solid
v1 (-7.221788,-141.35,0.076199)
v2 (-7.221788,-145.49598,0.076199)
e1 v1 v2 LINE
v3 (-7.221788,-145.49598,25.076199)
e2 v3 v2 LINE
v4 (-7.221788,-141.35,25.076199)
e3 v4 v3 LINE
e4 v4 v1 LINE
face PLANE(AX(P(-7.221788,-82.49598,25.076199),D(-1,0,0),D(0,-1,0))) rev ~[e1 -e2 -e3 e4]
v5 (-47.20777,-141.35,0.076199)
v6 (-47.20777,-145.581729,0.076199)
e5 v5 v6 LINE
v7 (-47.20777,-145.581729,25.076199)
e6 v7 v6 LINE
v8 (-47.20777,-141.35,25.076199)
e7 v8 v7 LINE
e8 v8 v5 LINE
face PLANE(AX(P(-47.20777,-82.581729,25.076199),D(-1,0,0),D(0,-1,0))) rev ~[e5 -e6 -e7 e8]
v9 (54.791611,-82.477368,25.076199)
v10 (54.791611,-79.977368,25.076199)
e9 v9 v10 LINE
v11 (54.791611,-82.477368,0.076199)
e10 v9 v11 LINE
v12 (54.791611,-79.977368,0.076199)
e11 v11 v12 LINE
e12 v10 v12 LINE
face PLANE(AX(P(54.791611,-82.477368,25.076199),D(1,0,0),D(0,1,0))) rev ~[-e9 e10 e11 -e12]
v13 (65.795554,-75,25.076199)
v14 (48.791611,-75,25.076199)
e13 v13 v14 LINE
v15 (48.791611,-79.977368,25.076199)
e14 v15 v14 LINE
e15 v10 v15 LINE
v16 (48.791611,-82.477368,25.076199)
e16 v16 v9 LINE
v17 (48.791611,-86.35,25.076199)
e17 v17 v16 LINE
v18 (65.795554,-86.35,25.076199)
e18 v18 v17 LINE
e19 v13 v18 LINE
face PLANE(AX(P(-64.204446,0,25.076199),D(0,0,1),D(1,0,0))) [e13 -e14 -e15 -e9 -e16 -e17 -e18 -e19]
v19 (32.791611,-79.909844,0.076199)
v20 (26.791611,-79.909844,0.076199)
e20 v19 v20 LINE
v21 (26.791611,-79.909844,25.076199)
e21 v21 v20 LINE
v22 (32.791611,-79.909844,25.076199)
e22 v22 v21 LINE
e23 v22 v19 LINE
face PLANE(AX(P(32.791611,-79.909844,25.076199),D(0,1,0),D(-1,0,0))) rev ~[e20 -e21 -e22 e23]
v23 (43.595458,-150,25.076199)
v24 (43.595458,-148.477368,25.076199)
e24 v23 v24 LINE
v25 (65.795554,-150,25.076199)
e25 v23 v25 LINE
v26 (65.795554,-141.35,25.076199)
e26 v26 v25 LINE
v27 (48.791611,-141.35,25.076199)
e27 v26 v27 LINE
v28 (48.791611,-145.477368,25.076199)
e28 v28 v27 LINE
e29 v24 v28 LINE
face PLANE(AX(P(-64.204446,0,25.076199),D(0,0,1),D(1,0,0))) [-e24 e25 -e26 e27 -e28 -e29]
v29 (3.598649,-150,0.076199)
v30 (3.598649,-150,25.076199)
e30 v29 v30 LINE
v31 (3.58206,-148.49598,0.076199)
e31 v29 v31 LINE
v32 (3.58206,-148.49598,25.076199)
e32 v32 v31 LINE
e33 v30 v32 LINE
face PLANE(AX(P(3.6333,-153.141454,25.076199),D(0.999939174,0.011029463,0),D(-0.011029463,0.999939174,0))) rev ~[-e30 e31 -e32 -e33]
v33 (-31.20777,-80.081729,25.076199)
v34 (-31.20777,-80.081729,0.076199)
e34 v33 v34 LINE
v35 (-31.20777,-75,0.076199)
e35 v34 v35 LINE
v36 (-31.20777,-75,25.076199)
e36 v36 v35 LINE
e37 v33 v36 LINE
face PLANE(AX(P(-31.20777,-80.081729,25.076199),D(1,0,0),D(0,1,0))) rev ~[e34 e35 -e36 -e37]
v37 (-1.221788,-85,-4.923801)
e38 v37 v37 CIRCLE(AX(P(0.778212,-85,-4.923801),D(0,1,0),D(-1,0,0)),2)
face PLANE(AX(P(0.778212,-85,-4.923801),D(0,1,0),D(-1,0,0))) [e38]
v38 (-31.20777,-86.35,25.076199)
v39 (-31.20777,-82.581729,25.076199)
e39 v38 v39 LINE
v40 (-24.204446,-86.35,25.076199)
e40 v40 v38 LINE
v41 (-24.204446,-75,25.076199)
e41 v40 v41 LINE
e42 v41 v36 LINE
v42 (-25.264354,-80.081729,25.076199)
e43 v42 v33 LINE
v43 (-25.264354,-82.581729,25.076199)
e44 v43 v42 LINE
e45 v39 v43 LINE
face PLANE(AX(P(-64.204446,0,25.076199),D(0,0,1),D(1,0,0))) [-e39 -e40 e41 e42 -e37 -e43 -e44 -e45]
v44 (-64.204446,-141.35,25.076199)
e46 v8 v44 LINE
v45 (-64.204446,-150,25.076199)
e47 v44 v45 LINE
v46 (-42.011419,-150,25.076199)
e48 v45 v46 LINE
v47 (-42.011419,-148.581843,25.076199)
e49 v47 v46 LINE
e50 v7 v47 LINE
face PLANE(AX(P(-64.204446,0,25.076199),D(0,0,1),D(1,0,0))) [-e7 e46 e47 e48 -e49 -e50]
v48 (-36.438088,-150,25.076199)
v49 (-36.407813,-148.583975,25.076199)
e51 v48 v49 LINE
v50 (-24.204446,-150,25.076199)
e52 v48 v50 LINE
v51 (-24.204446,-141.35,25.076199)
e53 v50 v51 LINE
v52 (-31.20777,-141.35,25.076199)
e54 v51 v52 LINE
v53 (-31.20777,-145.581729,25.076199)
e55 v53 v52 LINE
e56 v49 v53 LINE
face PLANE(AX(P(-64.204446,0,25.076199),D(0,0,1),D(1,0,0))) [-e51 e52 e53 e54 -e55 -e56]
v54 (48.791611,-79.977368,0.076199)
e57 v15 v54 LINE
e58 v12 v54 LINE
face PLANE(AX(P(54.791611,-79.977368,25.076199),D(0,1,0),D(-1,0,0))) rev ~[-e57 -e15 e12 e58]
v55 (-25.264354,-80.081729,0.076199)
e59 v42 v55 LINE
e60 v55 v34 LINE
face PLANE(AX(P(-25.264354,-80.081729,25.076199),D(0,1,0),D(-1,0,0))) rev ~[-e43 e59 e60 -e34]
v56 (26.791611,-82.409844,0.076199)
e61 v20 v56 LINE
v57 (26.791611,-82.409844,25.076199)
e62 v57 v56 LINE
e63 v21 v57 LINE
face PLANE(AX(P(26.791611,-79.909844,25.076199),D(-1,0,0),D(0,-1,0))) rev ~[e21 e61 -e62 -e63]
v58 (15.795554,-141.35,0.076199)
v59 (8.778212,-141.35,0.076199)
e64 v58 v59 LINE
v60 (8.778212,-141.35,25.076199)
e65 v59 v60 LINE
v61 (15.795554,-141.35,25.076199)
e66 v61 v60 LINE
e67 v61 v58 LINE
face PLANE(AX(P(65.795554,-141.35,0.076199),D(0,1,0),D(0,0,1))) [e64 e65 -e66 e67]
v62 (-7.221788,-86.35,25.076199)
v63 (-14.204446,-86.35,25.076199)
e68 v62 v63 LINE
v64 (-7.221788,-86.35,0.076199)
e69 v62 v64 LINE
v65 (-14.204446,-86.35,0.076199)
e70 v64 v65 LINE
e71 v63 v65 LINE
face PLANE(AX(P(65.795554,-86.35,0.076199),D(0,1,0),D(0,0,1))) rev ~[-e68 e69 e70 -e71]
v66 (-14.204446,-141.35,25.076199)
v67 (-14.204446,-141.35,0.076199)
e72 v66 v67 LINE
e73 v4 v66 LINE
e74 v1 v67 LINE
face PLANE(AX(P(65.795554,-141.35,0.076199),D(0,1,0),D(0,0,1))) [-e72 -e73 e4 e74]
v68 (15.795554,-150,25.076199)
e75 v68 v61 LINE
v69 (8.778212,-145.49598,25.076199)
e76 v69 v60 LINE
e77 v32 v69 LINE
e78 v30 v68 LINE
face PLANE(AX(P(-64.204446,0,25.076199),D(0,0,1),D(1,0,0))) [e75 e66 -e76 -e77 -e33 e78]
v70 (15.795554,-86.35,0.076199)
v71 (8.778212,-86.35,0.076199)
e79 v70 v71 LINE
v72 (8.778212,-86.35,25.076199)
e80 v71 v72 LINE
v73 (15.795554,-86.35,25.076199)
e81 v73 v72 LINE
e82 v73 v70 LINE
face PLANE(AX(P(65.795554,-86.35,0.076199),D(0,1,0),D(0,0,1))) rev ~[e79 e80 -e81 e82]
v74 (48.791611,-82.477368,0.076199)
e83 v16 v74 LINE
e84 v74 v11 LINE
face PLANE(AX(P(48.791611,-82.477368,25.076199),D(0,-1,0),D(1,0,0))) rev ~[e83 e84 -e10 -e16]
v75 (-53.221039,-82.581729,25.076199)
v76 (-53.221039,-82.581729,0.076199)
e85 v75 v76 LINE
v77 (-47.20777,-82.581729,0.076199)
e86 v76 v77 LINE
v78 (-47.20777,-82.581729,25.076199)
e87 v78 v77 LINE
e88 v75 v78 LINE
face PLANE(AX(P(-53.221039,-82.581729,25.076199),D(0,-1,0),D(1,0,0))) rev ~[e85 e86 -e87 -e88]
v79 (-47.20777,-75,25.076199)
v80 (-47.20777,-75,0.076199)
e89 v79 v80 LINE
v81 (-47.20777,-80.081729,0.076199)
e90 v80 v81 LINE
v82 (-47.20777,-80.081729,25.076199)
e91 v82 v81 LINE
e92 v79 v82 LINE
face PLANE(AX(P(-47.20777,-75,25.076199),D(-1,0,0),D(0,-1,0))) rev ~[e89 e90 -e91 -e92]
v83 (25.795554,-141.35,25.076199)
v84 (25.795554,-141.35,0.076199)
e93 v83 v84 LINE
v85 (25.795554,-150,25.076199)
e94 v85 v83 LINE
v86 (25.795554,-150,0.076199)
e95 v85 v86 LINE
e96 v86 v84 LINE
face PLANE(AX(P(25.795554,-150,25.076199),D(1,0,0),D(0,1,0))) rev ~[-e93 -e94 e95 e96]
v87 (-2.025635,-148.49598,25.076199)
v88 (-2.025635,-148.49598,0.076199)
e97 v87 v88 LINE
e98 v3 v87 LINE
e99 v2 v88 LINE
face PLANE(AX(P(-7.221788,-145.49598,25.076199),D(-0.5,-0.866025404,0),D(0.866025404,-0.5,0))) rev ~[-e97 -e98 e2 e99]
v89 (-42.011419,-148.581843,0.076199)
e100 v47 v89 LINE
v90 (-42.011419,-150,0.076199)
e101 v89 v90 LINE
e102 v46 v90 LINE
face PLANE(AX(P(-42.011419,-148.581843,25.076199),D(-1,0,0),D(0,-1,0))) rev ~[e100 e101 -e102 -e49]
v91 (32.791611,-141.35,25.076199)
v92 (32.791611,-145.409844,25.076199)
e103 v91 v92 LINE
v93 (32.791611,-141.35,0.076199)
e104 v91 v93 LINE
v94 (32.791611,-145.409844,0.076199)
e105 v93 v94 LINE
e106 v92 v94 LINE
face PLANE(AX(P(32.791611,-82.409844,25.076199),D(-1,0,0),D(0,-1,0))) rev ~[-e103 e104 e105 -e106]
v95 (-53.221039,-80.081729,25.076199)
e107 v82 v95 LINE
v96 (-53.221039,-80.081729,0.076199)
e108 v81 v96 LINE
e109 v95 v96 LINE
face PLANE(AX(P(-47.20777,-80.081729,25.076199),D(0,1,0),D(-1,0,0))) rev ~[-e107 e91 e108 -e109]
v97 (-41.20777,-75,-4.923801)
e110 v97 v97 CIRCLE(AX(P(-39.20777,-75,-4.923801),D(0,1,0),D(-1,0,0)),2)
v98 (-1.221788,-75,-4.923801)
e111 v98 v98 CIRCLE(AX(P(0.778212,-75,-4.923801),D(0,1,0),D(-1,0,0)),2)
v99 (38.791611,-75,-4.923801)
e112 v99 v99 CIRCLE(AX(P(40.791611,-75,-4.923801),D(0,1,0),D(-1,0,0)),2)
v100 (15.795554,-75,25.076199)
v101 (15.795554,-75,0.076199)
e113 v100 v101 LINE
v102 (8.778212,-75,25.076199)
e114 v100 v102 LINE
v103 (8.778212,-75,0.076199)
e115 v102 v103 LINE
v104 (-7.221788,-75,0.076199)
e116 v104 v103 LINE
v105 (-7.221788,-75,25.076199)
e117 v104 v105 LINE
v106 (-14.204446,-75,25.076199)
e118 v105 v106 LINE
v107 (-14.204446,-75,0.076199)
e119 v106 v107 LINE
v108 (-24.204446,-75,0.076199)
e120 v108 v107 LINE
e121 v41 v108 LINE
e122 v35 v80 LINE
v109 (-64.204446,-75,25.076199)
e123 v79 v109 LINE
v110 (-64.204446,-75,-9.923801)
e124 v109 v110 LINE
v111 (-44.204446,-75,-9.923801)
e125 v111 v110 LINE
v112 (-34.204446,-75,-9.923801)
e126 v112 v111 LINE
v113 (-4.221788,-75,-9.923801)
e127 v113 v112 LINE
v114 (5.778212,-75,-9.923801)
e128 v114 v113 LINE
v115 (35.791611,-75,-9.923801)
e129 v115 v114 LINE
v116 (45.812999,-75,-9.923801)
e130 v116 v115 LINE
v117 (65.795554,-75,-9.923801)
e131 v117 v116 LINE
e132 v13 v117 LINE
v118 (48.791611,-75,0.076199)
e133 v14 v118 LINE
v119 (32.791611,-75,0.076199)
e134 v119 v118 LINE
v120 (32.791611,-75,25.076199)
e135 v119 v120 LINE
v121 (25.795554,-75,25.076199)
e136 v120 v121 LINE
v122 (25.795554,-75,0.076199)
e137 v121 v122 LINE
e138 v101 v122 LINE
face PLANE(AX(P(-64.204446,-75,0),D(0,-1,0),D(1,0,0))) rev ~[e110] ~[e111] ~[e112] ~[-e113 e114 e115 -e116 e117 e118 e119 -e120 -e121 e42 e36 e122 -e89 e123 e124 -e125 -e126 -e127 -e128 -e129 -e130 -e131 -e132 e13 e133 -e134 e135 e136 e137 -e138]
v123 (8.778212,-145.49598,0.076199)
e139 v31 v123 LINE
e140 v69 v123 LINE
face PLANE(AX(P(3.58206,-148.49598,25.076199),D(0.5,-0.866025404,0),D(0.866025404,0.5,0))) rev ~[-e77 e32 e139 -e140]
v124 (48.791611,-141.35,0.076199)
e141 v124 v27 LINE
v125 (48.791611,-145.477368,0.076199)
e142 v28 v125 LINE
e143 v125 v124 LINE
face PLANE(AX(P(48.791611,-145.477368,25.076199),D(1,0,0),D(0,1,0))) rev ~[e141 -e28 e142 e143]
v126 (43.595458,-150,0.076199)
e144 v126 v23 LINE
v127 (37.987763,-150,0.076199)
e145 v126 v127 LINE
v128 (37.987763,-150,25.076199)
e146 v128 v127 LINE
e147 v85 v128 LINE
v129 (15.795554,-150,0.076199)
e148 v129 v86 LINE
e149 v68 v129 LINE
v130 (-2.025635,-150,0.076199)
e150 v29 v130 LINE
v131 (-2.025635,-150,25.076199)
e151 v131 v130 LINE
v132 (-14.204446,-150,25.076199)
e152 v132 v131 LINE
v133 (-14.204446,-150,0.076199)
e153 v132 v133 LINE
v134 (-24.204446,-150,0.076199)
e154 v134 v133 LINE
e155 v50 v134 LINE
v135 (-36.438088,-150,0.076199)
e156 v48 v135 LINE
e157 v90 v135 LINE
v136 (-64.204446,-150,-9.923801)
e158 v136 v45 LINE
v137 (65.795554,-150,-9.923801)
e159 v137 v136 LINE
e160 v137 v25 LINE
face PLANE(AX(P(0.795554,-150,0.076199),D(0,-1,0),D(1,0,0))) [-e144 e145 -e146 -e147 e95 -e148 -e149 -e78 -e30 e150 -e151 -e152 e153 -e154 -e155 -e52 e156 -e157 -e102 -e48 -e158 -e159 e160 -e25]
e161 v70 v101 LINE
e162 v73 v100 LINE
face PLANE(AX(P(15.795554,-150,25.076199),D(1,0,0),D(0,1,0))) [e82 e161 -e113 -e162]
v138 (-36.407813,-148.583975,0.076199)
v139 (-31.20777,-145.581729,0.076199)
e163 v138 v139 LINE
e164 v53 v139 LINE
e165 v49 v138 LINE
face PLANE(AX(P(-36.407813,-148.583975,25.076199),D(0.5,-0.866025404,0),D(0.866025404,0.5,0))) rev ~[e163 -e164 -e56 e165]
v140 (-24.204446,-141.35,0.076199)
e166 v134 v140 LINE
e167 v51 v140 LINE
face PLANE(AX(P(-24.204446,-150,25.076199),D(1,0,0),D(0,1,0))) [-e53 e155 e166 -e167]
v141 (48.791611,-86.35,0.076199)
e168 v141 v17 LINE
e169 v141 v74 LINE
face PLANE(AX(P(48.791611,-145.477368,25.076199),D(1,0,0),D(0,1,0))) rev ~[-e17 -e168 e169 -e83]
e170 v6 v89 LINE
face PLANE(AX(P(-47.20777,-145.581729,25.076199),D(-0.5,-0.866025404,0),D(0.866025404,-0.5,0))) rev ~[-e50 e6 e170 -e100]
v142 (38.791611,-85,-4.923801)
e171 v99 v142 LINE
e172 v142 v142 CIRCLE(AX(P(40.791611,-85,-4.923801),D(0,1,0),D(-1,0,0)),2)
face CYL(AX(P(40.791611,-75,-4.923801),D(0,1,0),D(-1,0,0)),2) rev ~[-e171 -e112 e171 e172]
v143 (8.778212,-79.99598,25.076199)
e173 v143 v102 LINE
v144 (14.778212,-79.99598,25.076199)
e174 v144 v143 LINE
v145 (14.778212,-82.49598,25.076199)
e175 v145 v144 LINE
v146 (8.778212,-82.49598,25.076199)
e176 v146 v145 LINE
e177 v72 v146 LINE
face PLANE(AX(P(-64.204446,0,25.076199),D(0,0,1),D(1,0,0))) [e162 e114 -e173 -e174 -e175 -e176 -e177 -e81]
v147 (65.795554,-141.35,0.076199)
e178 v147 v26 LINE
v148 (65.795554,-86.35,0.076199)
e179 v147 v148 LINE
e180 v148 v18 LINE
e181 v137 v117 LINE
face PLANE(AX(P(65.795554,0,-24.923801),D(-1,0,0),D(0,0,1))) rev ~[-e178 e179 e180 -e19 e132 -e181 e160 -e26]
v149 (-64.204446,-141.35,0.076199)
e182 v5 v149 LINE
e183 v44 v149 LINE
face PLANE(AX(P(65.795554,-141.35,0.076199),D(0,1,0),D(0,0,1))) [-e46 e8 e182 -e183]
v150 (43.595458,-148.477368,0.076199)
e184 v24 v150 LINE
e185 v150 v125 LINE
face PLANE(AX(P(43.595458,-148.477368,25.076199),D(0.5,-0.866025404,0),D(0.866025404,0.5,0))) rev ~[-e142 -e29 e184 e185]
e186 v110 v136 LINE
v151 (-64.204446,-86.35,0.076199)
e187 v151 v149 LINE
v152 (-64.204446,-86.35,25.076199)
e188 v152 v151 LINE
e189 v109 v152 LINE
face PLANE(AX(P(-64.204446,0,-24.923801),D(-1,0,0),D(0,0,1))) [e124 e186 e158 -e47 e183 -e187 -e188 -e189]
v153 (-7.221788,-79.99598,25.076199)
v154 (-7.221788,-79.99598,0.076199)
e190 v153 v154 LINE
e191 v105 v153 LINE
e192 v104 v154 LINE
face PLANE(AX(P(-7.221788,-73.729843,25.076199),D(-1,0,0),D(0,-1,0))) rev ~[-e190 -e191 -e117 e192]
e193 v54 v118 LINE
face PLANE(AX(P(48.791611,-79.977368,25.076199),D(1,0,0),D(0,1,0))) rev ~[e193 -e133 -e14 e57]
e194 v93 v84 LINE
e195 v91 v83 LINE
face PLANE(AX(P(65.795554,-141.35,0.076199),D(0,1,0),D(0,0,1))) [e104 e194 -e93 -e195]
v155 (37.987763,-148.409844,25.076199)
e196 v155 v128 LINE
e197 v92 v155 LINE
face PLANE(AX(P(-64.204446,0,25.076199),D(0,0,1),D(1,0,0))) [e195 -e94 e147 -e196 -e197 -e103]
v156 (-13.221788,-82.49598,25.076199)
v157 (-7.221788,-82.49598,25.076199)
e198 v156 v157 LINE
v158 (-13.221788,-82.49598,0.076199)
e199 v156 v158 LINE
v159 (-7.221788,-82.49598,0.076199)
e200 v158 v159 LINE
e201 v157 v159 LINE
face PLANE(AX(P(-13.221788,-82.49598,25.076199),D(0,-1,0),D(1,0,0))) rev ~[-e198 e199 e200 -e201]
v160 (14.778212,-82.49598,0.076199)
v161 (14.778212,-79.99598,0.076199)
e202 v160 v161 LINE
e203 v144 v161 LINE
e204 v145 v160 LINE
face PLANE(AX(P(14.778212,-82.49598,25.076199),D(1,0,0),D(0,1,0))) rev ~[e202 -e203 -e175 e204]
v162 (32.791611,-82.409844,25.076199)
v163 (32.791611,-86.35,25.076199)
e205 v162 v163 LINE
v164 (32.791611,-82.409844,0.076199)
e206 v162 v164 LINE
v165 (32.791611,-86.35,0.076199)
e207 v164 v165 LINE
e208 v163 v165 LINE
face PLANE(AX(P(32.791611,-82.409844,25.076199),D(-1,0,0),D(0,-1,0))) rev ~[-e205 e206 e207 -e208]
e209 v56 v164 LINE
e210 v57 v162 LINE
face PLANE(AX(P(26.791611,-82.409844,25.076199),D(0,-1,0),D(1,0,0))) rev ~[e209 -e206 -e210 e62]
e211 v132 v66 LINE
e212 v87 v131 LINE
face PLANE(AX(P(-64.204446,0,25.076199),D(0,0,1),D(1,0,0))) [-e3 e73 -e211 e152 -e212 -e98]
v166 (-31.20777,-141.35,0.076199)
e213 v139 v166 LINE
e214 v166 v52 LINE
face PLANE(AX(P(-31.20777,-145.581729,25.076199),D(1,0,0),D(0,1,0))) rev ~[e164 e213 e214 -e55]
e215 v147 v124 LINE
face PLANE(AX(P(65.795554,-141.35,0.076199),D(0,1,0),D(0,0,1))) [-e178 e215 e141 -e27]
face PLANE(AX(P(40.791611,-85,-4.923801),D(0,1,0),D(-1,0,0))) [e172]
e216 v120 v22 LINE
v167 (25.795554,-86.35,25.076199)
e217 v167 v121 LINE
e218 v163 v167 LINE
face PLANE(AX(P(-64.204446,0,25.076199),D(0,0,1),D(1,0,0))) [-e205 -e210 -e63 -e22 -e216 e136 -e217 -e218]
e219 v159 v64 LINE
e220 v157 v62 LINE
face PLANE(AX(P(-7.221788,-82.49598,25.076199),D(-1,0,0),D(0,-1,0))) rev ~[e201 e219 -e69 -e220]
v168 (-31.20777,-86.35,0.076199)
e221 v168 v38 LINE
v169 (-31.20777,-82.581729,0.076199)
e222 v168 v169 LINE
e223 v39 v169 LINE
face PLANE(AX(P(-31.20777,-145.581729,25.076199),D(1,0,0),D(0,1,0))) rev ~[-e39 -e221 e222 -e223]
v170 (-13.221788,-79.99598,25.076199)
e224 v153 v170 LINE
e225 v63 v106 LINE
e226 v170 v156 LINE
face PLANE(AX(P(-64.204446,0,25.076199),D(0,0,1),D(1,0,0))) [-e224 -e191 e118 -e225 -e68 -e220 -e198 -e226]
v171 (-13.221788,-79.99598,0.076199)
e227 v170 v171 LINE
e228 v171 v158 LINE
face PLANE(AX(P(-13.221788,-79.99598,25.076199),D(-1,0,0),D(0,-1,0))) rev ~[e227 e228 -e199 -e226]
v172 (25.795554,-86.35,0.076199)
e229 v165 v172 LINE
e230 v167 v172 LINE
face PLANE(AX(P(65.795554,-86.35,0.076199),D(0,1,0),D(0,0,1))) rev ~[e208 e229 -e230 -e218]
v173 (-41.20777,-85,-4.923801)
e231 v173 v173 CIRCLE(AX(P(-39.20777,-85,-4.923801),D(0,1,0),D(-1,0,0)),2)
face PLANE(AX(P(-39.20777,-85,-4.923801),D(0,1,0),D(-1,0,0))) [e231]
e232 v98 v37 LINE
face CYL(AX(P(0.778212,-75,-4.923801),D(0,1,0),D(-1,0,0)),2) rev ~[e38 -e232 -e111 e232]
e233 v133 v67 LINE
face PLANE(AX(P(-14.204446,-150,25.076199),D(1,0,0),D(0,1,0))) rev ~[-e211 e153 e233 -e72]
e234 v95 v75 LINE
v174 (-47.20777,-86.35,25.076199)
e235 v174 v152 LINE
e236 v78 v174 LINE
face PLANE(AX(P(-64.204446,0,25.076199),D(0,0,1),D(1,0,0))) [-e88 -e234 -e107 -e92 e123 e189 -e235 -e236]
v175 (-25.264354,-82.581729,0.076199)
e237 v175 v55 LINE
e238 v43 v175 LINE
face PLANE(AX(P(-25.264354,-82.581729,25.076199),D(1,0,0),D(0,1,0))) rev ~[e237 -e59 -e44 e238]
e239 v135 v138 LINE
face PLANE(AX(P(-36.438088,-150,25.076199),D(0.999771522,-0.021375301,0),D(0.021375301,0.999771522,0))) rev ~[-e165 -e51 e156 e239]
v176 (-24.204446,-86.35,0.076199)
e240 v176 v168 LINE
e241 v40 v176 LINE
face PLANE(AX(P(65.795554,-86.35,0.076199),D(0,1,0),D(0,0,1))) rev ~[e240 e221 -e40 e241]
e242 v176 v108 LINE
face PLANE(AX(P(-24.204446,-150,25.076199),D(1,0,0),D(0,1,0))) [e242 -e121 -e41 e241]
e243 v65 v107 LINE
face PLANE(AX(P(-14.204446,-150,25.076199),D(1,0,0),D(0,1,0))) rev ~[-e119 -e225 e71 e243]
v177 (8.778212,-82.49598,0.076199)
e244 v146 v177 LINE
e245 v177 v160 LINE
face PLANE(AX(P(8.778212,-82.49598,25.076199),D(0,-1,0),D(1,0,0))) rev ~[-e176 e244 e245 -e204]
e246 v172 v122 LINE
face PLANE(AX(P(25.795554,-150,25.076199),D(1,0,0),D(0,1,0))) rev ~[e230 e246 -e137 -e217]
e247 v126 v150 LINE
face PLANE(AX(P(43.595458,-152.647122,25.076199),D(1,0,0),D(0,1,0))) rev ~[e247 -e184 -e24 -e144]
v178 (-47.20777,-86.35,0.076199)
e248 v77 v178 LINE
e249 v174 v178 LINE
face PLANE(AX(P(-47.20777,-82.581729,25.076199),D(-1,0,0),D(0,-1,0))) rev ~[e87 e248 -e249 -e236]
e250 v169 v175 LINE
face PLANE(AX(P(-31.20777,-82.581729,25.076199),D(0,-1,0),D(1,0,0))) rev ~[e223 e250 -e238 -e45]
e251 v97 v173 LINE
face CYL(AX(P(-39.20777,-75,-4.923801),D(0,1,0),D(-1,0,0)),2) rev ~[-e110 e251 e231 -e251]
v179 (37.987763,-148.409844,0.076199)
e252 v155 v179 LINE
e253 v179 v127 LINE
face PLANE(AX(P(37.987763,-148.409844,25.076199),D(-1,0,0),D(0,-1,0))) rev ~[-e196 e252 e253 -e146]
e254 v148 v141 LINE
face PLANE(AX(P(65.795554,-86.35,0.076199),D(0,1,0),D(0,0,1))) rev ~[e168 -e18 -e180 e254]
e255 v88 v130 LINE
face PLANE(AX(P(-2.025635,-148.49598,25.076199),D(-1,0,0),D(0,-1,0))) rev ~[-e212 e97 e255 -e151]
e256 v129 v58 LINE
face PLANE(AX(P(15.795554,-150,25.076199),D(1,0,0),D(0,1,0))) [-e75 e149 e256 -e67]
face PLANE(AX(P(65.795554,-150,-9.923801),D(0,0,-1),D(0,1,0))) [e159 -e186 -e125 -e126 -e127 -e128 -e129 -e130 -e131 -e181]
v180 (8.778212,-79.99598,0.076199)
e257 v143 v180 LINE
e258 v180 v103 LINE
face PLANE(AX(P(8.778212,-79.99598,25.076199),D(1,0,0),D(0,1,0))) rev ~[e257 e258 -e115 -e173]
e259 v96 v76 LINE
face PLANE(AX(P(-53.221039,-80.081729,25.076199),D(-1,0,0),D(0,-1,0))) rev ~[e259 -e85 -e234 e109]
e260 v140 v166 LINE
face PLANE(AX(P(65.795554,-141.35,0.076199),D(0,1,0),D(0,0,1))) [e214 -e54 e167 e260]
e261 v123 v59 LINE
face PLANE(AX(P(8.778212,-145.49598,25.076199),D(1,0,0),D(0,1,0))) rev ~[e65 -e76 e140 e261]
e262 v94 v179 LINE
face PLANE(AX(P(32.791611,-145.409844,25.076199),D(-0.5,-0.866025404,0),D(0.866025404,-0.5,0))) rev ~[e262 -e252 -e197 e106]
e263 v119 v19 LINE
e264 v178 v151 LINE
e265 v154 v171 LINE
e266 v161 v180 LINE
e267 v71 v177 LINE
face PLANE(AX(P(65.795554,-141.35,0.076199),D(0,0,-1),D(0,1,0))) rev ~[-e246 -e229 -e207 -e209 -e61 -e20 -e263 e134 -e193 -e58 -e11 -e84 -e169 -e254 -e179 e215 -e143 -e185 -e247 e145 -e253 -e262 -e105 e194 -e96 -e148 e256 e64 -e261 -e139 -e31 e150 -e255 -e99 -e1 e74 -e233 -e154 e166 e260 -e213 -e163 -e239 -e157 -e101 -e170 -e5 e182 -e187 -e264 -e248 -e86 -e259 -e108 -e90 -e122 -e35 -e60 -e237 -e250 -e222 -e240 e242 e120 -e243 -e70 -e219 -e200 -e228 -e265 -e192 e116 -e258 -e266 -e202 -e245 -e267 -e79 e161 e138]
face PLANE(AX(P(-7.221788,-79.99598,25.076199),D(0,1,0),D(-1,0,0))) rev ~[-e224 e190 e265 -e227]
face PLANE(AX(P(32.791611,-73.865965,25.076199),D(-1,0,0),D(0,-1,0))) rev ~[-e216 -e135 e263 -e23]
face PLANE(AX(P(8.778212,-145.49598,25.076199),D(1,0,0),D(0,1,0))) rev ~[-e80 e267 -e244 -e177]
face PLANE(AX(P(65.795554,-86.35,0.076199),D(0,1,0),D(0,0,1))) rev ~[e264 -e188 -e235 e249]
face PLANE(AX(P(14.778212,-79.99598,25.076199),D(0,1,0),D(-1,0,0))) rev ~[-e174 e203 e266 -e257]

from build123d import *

# Parameters (mm, degrees)
F0_W      = 130
F0_H      = 50
F1_DEPTH  = 150
F2_W      = 75
F2_H      = 25.0761986731
F3_DEPTH  = 130.001
F6_DEPTH  = 25
F8_DEPTH  = 25
F10_DEPTH = 25
F11_W     = 150
F11_H     = 15
F12_DEPTH = 161
F13_W     = 20
F13_H     = 75
F13_W_2   = 29.982657928
F13_W_3   = 30.0133985095
F13_W_4   = 19.9825553596
F14_DEPTH = 25
F15_W     = 75
F15_H     = 9.9238013269
F16_DEPTH = 100
F17_R     = 2
F18_DEPTH = 10
F19_W     = 55
F19_H     = 25
F20_DEPTH = 140
F4_W      = 10
F4_H      = 75
F21_DEPTH = 25


with BuildPart() as f1:
    # F0 (on Front) → F1 (new body)
    with BuildSketch(Plane.XZ):
        with Locations((0.7955543697, 0.0761986731)):
            Rectangle(F0_W, F0_H)
    extrude(amount=F1_DEPTH)

    # F2 (on face) → F3 (cut, through all)
    with BuildSketch(Plane.YZ.offset(65.7955543697)):
        with Locations((-37.5, 12.5380993366)):
            Rectangle(F2_W, F2_H)
    extrude(amount=-F3_DEPTH, mode=Mode.SUBTRACT)

    # F5 (on face) → F6 (cut)
    with BuildSketch(Plane.XY.offset(25.0761986731)):
        Polygon((-31.2077699304, -75), (-47.2077699304, -75), (-47.2077699304, -80.0817286968), (-53.221039474, -80.0817286968), (-53.221039474, -82.5817286968), (-47.2077699304, -82.5817286968), (-47.2077699304, -145.5817286968), (-42.0114186667, -148.5818434977), (-42.0114186667, -150), (-36.4380876982, -150), (-36.4078128177, -148.5839748576), (-31.2077699304, -145.5817286968), (-31.2077699304, -82.5817286968), (-25.2643544227, -82.5817286968), (-25.2643544227, -80.0817286968), (-31.2077699304, -80.0817286968), align=None)
    extrude(amount=-F6_DEPTH, mode=Mode.SUBTRACT)

    # F7 (on face) → F8 (cut)
    with BuildSketch(Plane.XY.offset(25.0761986731)):
        Polygon((48.7916108072, -73.9334896207), (32.7916108072, -73.8659650087), (32.7916108072, -79.9098435044), (26.7916108072, -79.9098435044), (26.7916108072, -82.4098435044), (32.7916108072, -82.4098435044), (32.7916108072, -145.4098435044), (37.9877632299, -148.4098435044), (37.9877632299, -152.647121688), (43.5954583845, -152.647121688), (43.5954583845, -148.4773681164), (48.7916108072, -145.4773681164), (48.7916108072, -82.4773681164), (54.7916108072, -82.4773681164), (54.7916108072, -79.9773681164), (48.7916108072, -79.9773681164), align=None)
    extrude(amount=-F8_DEPTH, mode=Mode.SUBTRACT)

    # F9 (on face) → F10 (cut)
    with BuildSketch(Plane.XY.offset(25.0761986731)):
        Polygon((8.7782122977, -73.7298429012), (-7.2217877023, -73.7298429012), (-7.2217877023, -79.9959796667), (-13.2217877023, -79.9959796667), (-13.2217877023, -82.4959796667), (-7.2217877023, -82.4959796667), (-7.2217877023, -145.4959796667), (-2.0256352796, -148.4959796667), (-2.0256352796, -153.1414538622), (3.6333000753, -153.1414538622), (3.582059875, -148.4959796667), (8.7782122977, -145.4959796667), (8.7782122977, -82.4959796667), (14.7782122977, -82.4959796667), (14.7782122977, -79.9959796667), (8.7782122977, -79.9959796667), align=None)
    extrude(amount=-F10_DEPTH, mode=Mode.SUBTRACT)

    # F11 (on face) → F12 (cut)
    with BuildSketch(Plane.YZ.offset(65.7955543697)):
        with Locations((-75, -17.4238013269)):
            Rectangle(F11_W, F11_H)
    extrude(amount=-F12_DEPTH, mode=Mode.SUBTRACT)

    # F13 (on face) → F14 (cut)
    with BuildSketch(Plane.XY):
        with Locations((-54.2044456303, -37.5)):
            Rectangle(F13_W, F13_H)
        with Locations((-19.2131166663, -37.5)):
            Rectangle(F13_W_2, F13_H)
        with Locations((20.7849115524, -37.5)):
            Rectangle(F13_W_3, F13_H)
        with Locations((55.8042766899, -37.5)):
            Rectangle(F13_W_4, F13_H)
    extrude(amount=-F14_DEPTH, mode=Mode.SUBTRACT)

    # F15 (on face) → F16 (cut)
    with BuildSketch(Plane.YZ.offset(45.8129990101)):
        with Locations((-37.5, -4.9619006634)):
            Rectangle(F15_W, F15_H)
    extrude(amount=-F16_DEPTH, mode=Mode.SUBTRACT)

    # F17 (on face) → F18 (cut)
    with BuildSketch(Plane(origin=(0, -75, 0), x_dir=(-1, 0, 0), z_dir=(0, 1, 0))):
        with Locations((-40.7916108072, -4.9238013269)):
            Circle(F17_R)
        with Locations((-0.7782122977, -4.9238013269)):
            Circle(F17_R)
        with Locations((39.2077699304, -4.9238013269)):
            Circle(F17_R)
    extrude(amount=-F18_DEPTH, mode=Mode.SUBTRACT)

    # F19 (on face) → F20 (cut)
    with BuildSketch(Plane.YZ.offset(65.7955543697)):
        with Locations((-113.85, 12.5761986731)):
            Rectangle(F19_W, F19_H)
    extrude(amount=-F20_DEPTH, mode=Mode.SUBTRACT)

    # F4 (on face) → F21 (cut)
    with BuildSketch(Plane.XY.offset(25.0761986731)):
        with Locations((-19.2044456303, -112.5)):
            Rectangle(F4_W, F4_H)
        with Locations((20.7955543697, -112.5)):
            Rectangle(F4_W, F4_H)
    extrude(amount=-F21_DEPTH, mode=Mode.SUBTRACT)


solid = f1.part
